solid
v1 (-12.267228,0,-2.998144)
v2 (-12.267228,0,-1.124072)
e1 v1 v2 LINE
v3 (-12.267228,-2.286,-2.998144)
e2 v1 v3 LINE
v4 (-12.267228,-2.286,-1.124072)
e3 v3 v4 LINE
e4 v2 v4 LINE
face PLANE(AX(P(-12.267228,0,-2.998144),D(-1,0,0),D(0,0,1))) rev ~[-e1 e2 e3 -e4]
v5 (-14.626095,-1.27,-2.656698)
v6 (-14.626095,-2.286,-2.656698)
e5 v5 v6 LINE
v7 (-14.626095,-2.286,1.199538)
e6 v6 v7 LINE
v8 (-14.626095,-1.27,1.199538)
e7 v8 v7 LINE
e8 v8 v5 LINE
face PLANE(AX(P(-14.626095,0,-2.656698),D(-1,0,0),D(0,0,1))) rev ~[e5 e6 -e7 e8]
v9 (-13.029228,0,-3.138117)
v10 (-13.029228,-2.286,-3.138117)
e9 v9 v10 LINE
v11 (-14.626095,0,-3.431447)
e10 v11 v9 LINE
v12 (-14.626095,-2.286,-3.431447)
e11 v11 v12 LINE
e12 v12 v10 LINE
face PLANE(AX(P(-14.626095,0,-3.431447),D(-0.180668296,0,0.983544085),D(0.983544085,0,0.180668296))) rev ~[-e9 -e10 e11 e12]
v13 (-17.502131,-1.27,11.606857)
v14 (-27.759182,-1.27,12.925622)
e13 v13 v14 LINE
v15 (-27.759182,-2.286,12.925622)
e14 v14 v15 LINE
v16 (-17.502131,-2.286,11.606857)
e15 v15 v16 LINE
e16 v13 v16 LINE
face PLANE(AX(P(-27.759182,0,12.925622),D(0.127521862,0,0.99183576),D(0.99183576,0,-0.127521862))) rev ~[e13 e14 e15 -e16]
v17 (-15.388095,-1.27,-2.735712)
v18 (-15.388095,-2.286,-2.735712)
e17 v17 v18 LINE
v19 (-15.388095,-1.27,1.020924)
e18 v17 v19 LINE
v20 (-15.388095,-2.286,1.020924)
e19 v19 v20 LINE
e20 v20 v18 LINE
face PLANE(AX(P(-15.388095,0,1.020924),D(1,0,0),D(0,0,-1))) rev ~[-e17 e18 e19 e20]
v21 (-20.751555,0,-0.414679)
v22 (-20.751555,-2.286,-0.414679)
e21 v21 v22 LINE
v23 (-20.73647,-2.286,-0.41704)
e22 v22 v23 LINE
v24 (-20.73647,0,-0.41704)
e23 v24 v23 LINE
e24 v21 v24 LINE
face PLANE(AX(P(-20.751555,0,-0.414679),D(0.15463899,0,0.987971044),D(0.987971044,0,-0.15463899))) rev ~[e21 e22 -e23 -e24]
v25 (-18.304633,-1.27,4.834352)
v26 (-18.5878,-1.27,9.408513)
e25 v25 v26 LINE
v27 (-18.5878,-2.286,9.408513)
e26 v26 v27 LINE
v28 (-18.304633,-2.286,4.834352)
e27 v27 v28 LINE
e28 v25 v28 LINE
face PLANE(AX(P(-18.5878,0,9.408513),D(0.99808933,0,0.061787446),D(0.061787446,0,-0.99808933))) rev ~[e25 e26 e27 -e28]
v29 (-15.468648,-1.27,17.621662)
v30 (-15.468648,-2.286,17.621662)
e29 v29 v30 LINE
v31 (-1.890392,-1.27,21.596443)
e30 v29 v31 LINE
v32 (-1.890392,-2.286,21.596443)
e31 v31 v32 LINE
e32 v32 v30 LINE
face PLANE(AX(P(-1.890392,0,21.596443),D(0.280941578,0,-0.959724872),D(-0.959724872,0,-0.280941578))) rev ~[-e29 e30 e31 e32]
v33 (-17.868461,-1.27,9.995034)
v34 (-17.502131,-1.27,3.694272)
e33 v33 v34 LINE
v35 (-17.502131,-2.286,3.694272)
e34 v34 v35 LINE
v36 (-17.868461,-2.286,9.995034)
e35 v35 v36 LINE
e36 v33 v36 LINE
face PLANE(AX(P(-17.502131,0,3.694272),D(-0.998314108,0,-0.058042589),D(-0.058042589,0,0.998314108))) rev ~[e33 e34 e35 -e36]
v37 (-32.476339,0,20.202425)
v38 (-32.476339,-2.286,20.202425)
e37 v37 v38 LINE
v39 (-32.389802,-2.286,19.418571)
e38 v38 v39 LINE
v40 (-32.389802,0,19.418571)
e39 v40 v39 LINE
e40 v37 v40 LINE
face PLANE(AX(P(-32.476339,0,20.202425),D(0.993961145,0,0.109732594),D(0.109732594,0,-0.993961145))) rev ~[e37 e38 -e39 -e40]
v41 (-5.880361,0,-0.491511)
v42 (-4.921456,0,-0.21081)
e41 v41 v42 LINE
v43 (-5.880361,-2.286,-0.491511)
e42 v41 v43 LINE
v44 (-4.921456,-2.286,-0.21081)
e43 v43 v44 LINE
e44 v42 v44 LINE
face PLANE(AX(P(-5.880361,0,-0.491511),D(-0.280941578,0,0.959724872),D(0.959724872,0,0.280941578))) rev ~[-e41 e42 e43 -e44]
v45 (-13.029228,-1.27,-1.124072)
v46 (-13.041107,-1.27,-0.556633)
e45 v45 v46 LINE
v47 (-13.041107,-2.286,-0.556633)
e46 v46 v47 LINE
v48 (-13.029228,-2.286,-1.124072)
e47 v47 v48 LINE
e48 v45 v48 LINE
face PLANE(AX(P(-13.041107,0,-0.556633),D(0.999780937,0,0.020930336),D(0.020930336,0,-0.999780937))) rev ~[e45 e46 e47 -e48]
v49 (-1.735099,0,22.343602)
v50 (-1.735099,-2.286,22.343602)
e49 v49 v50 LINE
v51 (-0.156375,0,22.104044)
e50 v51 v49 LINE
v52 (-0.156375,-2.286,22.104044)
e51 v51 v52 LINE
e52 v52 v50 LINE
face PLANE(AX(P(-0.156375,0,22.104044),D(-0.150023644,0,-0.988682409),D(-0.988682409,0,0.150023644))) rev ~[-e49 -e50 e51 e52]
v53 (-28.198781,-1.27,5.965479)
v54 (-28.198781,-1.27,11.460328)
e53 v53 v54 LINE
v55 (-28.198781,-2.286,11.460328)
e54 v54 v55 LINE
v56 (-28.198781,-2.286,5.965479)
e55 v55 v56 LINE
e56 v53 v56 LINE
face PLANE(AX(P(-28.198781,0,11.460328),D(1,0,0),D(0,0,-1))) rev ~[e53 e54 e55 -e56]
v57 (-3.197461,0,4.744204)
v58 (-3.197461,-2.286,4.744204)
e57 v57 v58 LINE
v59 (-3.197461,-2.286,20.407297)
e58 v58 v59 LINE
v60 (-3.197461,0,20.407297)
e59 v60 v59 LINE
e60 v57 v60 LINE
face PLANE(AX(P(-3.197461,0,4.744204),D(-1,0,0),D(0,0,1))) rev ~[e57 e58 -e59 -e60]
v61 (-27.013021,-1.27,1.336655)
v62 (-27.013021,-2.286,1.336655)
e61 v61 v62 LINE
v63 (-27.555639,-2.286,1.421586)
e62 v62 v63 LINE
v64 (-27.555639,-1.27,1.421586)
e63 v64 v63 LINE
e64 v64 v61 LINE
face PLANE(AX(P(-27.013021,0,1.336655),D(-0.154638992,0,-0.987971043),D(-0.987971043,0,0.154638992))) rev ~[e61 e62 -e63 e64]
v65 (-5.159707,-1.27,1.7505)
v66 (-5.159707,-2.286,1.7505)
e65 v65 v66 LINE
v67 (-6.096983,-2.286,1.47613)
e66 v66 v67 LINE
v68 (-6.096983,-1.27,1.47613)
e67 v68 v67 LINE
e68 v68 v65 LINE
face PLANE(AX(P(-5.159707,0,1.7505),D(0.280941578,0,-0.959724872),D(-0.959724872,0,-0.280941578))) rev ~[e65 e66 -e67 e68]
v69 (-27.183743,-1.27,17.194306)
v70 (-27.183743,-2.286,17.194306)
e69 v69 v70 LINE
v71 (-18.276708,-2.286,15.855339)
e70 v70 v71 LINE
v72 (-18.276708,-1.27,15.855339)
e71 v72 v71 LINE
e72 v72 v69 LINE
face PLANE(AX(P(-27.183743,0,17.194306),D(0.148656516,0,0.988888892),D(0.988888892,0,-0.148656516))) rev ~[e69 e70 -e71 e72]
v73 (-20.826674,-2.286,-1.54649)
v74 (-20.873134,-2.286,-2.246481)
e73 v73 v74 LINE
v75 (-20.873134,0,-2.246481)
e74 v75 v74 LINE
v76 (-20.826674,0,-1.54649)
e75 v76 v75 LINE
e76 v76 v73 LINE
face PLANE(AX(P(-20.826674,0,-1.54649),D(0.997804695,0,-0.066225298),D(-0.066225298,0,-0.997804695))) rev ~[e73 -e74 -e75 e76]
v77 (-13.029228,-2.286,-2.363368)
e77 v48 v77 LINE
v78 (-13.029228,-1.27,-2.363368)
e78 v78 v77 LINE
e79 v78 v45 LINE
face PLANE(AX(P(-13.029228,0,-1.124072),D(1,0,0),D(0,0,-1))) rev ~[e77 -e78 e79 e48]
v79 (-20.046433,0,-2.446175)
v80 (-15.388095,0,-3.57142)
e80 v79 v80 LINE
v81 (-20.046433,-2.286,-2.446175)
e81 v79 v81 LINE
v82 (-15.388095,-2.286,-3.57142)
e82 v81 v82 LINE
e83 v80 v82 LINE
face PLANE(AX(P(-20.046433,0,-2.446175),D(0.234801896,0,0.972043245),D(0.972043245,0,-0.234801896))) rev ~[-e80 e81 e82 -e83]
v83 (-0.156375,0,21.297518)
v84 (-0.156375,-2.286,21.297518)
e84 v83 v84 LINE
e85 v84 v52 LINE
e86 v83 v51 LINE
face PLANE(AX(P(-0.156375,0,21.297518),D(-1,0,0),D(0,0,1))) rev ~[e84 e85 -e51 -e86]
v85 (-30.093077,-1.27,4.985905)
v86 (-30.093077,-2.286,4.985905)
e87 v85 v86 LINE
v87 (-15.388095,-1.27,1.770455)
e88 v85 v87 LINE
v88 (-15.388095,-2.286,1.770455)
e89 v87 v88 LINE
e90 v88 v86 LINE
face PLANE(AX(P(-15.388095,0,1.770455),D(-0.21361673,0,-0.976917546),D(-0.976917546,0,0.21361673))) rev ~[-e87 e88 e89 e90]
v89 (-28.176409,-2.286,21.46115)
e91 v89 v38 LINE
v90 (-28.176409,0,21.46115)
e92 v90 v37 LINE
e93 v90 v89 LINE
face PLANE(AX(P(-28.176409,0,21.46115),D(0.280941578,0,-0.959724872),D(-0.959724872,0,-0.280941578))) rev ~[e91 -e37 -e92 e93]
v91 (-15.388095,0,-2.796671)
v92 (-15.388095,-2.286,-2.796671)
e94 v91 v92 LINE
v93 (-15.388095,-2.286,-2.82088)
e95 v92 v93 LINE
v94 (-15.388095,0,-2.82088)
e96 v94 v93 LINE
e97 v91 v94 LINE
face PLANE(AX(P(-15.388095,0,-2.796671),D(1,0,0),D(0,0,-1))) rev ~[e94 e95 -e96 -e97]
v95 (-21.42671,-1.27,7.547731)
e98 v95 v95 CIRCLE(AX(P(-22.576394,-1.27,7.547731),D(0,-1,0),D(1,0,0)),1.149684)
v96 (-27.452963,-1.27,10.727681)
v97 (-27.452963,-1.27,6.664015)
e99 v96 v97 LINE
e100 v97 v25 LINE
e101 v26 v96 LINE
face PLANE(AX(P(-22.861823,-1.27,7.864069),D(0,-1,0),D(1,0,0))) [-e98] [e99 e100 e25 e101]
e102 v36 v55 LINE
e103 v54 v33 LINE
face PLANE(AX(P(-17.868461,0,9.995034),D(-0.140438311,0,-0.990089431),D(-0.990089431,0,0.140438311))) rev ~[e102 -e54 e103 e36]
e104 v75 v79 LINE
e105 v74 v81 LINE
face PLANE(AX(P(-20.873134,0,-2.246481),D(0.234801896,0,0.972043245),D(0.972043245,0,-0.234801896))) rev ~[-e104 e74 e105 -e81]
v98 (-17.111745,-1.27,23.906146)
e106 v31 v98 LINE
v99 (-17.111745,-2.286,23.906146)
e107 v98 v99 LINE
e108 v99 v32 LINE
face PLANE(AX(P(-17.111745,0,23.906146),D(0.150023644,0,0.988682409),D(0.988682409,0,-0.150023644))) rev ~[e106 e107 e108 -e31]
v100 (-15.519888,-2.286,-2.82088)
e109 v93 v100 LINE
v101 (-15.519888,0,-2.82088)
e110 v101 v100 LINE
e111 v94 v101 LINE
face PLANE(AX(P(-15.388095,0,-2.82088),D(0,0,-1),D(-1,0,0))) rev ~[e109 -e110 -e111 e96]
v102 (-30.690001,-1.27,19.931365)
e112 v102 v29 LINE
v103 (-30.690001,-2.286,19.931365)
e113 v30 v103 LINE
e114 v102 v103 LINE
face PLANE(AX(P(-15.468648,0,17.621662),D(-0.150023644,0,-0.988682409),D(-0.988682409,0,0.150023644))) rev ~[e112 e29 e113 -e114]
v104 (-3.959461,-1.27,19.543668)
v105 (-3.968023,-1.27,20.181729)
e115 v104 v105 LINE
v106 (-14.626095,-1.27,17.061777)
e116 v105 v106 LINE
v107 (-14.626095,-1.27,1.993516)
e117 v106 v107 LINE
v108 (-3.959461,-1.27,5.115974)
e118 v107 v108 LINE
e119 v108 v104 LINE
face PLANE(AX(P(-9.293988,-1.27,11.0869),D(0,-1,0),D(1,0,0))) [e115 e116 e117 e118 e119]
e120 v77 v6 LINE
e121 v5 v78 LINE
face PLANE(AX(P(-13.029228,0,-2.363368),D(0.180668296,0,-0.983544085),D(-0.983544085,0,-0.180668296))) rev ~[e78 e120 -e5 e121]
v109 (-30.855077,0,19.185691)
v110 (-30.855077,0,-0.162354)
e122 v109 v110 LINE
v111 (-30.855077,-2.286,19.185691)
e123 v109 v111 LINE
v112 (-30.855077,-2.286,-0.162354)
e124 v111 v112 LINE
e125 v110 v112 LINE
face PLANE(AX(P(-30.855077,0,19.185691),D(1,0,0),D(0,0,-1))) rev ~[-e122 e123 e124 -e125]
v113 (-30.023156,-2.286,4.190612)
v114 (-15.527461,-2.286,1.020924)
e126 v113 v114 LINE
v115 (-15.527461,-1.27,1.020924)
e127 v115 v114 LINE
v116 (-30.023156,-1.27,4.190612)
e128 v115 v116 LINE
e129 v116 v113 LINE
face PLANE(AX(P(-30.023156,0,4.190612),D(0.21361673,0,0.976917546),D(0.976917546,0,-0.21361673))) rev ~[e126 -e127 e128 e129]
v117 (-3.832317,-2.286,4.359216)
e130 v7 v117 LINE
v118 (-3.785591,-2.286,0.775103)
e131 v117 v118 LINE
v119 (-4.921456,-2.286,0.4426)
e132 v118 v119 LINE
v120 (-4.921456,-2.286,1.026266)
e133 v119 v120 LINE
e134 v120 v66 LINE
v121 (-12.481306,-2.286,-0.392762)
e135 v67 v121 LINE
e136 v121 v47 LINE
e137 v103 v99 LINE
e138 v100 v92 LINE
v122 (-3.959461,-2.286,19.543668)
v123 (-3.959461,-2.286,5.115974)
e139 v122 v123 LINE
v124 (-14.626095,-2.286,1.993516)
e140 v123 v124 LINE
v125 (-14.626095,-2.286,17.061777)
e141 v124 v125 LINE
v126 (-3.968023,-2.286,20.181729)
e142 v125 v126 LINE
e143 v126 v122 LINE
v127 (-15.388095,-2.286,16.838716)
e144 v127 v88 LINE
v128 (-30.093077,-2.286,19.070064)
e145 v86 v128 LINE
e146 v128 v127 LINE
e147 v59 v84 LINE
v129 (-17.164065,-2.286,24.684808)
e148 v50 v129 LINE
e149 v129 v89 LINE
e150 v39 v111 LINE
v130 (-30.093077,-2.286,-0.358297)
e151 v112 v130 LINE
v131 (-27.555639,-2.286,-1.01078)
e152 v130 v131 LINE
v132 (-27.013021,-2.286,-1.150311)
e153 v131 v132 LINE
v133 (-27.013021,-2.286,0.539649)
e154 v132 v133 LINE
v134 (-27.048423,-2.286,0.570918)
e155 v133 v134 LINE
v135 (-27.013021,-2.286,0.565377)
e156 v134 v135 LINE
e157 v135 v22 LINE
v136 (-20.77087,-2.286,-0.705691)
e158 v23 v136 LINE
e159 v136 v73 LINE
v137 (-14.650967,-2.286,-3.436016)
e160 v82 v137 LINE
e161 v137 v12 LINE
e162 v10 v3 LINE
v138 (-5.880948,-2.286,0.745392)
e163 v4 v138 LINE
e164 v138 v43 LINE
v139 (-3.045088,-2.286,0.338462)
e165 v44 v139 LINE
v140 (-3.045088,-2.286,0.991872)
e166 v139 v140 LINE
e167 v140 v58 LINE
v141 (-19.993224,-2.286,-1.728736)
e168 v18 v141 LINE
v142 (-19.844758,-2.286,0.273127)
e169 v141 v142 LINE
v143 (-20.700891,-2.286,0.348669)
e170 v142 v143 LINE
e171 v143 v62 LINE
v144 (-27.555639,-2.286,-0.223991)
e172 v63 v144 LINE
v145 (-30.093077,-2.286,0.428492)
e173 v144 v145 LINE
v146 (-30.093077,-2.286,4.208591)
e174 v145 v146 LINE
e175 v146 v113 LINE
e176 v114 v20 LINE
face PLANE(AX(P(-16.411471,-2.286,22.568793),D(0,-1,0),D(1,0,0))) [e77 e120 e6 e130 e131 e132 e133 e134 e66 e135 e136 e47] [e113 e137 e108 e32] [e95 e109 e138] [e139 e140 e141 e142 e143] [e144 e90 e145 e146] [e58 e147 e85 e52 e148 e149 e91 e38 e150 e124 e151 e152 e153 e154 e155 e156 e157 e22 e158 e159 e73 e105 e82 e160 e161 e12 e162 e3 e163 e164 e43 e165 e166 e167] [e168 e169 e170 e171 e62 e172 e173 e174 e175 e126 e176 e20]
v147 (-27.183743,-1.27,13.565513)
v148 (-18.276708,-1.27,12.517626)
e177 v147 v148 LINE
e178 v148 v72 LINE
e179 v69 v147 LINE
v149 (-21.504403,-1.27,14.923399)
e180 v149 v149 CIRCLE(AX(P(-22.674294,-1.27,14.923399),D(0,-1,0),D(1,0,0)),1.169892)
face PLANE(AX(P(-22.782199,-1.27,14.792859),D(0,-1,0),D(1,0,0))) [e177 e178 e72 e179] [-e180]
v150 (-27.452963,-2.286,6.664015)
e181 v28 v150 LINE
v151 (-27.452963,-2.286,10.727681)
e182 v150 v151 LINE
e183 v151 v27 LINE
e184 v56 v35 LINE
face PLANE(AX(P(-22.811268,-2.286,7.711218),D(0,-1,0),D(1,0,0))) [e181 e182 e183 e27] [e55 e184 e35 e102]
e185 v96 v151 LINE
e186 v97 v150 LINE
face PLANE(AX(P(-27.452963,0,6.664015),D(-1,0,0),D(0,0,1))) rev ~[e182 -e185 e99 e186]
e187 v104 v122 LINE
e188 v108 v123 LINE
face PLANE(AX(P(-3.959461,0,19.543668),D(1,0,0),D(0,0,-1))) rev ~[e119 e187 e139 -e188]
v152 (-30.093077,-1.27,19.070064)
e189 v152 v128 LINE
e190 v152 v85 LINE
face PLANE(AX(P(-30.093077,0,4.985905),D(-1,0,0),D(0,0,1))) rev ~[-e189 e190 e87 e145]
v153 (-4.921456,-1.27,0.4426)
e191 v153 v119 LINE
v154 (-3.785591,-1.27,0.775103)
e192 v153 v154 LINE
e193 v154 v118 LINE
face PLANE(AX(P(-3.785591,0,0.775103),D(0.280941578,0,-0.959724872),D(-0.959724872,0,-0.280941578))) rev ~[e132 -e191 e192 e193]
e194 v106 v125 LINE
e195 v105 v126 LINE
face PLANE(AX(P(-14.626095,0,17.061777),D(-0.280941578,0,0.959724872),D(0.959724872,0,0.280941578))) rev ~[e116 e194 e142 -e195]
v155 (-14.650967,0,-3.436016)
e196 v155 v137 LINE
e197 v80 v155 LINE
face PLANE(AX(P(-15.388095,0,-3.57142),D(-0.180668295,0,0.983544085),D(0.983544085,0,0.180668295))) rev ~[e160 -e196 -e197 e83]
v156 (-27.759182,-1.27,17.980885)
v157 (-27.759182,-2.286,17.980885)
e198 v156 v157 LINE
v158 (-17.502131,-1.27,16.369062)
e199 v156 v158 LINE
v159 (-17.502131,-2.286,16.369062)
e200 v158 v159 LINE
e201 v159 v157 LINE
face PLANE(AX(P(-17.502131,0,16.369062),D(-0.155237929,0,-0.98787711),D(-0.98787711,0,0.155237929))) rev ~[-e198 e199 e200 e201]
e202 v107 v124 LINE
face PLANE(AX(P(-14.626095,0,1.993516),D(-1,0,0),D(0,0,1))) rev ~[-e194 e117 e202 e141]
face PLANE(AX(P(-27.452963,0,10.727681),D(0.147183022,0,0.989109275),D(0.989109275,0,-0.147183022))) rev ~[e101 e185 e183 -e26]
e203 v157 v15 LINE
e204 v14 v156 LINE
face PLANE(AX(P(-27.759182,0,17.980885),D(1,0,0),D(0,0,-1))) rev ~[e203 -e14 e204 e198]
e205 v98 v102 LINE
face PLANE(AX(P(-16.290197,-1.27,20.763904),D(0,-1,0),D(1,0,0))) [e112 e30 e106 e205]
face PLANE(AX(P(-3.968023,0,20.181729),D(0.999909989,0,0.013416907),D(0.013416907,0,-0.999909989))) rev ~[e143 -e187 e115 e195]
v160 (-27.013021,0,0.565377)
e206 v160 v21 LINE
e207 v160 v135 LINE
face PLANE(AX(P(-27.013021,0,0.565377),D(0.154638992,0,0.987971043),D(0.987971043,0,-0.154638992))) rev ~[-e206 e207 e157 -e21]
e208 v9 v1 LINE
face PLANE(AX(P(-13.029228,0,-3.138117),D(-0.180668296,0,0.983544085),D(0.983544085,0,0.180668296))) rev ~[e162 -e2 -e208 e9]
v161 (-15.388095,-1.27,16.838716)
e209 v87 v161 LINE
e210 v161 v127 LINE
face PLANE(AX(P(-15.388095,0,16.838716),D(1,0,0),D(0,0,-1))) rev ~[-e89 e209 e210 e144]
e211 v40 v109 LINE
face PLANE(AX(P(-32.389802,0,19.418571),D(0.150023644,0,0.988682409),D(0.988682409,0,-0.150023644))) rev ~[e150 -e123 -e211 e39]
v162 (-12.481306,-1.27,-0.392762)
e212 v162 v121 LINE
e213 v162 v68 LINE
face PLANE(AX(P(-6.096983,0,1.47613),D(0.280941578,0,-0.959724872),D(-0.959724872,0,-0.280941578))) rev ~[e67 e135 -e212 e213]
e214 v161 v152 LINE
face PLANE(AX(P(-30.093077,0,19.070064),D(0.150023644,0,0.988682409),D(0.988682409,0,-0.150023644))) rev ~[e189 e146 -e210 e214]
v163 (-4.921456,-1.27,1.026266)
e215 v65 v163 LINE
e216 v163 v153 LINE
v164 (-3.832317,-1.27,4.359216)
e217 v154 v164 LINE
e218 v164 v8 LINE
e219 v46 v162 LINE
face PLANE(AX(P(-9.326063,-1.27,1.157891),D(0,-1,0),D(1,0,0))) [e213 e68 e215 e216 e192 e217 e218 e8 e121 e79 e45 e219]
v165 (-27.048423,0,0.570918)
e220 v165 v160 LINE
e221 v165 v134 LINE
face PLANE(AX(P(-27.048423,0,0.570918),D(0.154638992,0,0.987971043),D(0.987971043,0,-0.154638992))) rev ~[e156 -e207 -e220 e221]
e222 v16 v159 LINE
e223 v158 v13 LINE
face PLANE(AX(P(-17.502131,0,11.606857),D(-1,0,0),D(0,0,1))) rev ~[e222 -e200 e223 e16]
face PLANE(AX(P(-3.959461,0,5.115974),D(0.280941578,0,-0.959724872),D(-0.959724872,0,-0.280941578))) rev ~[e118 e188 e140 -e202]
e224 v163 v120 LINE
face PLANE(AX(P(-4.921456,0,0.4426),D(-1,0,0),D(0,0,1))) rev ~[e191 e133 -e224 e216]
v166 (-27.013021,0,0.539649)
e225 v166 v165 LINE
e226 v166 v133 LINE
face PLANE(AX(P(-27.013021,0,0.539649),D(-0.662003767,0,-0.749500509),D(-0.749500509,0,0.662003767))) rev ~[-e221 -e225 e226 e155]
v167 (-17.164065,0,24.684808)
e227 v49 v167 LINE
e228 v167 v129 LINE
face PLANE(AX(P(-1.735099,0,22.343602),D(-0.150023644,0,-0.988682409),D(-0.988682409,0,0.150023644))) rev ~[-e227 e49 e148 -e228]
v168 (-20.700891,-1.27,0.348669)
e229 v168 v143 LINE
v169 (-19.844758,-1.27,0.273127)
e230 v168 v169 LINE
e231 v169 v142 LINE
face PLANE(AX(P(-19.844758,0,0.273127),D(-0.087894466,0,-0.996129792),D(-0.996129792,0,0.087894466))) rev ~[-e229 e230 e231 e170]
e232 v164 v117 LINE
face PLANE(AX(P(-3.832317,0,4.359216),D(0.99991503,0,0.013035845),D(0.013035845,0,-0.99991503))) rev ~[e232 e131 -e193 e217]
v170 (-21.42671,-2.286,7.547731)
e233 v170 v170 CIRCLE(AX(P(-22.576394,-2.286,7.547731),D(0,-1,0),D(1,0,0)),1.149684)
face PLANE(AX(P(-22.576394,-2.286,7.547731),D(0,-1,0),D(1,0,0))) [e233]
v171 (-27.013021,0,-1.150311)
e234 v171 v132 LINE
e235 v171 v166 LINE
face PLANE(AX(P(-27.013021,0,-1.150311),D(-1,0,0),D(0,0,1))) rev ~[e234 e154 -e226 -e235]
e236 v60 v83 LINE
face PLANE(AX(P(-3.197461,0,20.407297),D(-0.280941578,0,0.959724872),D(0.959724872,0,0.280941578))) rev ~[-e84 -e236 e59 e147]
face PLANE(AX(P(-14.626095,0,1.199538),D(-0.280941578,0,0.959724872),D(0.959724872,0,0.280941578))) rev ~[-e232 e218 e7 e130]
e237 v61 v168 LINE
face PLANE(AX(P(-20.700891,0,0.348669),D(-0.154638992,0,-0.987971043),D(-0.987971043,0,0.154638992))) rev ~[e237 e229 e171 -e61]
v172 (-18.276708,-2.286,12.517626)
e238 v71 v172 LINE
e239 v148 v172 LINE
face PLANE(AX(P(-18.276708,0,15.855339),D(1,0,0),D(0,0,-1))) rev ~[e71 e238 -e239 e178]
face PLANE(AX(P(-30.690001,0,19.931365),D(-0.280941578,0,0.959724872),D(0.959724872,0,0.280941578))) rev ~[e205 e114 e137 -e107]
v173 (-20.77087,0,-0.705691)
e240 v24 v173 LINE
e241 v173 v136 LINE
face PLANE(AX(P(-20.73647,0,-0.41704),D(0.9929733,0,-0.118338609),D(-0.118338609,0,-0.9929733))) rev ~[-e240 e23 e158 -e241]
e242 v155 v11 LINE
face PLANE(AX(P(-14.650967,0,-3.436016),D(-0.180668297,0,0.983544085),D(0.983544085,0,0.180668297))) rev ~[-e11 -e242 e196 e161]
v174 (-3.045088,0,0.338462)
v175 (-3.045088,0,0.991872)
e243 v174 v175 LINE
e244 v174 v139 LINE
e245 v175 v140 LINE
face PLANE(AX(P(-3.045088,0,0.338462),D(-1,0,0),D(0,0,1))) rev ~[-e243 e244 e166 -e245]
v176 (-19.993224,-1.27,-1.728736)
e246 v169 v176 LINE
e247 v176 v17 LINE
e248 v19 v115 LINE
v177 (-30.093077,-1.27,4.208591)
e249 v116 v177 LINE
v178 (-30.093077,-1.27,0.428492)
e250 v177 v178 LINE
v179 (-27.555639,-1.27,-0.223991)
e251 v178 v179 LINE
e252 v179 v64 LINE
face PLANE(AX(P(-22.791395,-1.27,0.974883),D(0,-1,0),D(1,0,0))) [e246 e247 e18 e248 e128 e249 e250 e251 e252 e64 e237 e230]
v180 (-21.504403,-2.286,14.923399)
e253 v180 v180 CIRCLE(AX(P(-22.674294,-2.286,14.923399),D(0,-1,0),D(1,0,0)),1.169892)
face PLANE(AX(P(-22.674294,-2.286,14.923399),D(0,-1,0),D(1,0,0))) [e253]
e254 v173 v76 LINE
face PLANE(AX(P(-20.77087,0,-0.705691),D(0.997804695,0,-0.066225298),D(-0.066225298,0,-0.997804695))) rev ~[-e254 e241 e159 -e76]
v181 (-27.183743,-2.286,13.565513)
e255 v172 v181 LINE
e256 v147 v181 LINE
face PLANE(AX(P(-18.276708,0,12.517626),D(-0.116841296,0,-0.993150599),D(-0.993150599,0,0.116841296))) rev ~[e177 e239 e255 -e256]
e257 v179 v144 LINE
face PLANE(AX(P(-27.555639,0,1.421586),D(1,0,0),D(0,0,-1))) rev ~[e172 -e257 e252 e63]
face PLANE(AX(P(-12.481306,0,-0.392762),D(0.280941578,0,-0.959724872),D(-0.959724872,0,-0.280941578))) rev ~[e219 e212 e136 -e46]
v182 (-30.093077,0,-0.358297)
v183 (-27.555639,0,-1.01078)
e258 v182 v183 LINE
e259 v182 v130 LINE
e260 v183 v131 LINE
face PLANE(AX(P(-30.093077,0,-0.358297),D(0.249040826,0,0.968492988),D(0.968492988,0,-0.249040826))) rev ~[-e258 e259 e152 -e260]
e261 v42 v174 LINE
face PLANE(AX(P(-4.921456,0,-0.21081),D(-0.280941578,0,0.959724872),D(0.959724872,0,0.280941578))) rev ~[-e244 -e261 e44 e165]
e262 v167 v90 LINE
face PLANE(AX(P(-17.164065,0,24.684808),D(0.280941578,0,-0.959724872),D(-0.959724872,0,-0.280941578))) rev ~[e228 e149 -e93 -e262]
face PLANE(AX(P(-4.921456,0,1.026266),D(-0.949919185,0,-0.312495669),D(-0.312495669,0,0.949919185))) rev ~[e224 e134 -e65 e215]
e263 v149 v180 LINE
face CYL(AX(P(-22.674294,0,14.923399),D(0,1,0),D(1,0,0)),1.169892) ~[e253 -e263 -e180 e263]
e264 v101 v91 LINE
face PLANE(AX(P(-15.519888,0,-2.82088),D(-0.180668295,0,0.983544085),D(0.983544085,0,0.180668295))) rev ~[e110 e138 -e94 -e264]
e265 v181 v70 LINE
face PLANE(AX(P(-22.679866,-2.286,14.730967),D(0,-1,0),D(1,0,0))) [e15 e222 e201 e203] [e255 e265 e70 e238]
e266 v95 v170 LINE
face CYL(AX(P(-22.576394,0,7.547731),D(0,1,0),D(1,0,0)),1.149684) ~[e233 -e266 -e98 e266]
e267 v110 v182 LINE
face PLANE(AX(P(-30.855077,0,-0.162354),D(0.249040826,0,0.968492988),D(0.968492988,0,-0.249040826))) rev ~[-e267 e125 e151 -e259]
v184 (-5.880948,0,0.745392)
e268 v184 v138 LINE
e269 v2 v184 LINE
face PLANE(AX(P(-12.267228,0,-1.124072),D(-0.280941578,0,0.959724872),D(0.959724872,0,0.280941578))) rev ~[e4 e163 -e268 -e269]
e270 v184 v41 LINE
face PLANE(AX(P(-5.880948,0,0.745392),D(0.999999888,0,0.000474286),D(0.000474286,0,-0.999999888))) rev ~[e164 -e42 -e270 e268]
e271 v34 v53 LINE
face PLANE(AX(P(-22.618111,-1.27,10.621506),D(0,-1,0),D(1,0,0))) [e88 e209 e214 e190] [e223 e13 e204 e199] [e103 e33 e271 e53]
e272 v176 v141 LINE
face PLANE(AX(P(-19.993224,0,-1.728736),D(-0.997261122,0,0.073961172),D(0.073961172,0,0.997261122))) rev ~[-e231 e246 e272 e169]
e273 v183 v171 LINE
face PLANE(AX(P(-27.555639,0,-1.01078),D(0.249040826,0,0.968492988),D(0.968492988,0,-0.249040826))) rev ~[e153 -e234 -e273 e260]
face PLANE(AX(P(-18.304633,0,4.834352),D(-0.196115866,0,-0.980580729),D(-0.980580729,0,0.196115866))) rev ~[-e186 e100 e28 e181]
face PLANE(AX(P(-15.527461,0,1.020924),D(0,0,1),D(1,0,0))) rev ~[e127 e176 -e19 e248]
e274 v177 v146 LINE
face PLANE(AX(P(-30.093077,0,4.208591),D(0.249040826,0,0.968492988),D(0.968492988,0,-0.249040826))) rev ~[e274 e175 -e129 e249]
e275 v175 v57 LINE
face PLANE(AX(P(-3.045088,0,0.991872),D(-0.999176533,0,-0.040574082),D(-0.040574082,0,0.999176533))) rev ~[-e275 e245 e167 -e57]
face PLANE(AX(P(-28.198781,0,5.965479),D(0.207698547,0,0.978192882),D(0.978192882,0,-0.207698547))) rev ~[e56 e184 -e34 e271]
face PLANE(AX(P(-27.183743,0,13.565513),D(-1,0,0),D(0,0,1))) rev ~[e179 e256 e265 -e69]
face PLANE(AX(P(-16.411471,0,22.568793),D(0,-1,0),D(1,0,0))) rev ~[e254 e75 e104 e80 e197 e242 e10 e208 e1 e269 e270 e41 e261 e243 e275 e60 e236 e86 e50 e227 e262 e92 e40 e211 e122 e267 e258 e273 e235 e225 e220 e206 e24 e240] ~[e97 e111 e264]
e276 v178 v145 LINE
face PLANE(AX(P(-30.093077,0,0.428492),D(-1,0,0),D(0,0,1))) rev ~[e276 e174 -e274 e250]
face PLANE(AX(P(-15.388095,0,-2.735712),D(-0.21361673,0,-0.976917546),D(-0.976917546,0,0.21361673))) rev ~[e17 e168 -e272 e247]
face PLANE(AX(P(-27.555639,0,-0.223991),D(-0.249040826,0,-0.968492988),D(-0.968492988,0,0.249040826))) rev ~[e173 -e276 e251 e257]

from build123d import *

# Parameters (mm, degrees)
F1_DEPTH = 1.27
F0_R     = 1.1698918357
F0_R_2   = 1.149683984
F2_DEPTH = 2.286


with BuildPart() as f1:
    # F0 (on Front) → F1 (new body)
    with BuildSketch(Plane.XZ):
        Polygon((-15.388094912, 1.7704545665), (-15.388094912, 16.057066756), (-15.388094912, 16.8387157017), (-30.0930766836, 19.0700641461), (-30.0930766836, 18.4871374451), (-30.0930766836, 4.9859051822), align=None)
        Polygon((-28.1987807881, 11.4603284719), (-17.8684613835, 9.9950339617), (-17.5021312367, 3.694271666), (-28.1987807881, 5.9654787155), align=None, mode=Mode.SUBTRACT)
        Polygon((-27.7591816317, 12.9256220507), (-27.7591816317, 17.9808847578), (-17.5021312367, 16.3690615418), (-17.5021312367, 11.6068571778), align=None, mode=Mode.SUBTRACT)
    extrude(amount=F1_DEPTH)



with BuildPart() as f1b:
    # F0 (on Front) → F1, piece 2 (new body)
    with BuildSketch(Plane.XZ):
        Polygon((-18.2767084967, 15.855339353), (-27.1837434899, 17.1943055438), (-27.1837434899, 13.5655133026), (-18.2767084967, 12.5176263945), align=None)
        with Locations((-22.6742944847, 14.9233993115)):
            Circle(F0_R, mode=Mode.SUBTRACT)
    extrude(amount=F1_DEPTH)


with BuildPart() as f1c:
    # F0 (on Front) → F1, piece 3 (new body)
    with BuildSketch(Plane.XZ):
        Polygon((-30.6900013238, 19.9313648045), (-15.4686479767, 17.6216616277), (-1.8903917537, 21.5964431966), (-17.1117451009, 23.9061463734), align=None)
    extrude(amount=F1_DEPTH)


with BuildPart() as f1d:
    # F0 (on Front) → F1, piece 4 (new body)
    with BuildSketch(Plane.XZ):
        Polygon((-14.626094912, 16.057066756), (-14.626094912, 1.9935158717), (-3.9594611633, 5.1159742), (-3.9594611633, 19.5436675764), (-3.9680227461, 20.1817290912), (-14.626094912, 17.0617770069), align=None)
    extrude(amount=F1_DEPTH)


with BuildPart() as f1e:
    # F0 (on Front) → F1, piece 5 (new body)
    with BuildSketch(Plane.XZ):
        Polygon((-3.8323173759, 4.3592156278), (-14.626094912, 1.1995383243), (-14.626094912, -2.6566980141), (-13.0292281976, -2.3633678097), (-13.0292281976, -1.1240722508), (-13.0411074846, -0.5566334484), (-12.4813056802, -0.3927618984), (-6.0969826496, 1.4761297395), (-5.1597074379, 1.7504995978), (-4.9214556754, 1.0262658156), (-4.9214556754, 0.4425999067), (-3.7855914693, 0.7751029937), align=None)
    extrude(amount=F1_DEPTH)


with BuildPart() as f1f:
    # F0 (on Front) → F1, piece 6 (new body)
    with BuildSketch(Plane.XZ):
        Polygon((-15.388094912, -2.7357117464), (-15.388094912, 1.0209244658), (-15.527460836, 1.0209244658), (-30.0231560015, 4.1906116282), (-30.0930766836, 4.2085912157), (-30.0930766836, 0.4284923682), (-27.5556394443, -0.2239908959), (-27.5556394443, 1.4215863233), (-27.0130208861, 1.3366546978), (-20.7008908468, 0.3486688349), (-19.8447576891, 0.273127106), (-19.9932244299, -1.7287355547), align=None)
    extrude(amount=F1_DEPTH)


with BuildPart() as f1g:
    # F0 (on Front) → F1, piece 7 (new body)
    with BuildSketch(Plane.XZ):
        Polygon((-18.5878000389, 9.4085130813), (-27.4529627692, 10.7276812168), (-27.4529627692, 6.66401535), (-18.3046332728, 4.8343520584), align=None)
        with Locations((-22.5763938557, 7.5477305772)):
            Circle(F0_R_2, mode=Mode.SUBTRACT)
    extrude(amount=F1_DEPTH)


with BuildPart() as f1_1:
    add(f1.part)

    add(f1b.part)  # F2 merges F1b

    add(f1c.part)  # F2 merges F1c

    add(f1d.part)  # F2 merges F1d

    add(f1e.part)  # F2 merges F1e

    add(f1f.part)  # F2 merges F1f

    add(f1g.part)  # F2 merges F1g
    # F0 (on Front) → F2 (join)
    with BuildSketch(Plane.XZ):
        Polygon((-17.5021312367, 3.694271666), (-17.8684613835, 9.9950339617), (-28.1987807881, 11.4603284719), (-28.1987807881, 5.9654787155), align=None)
        Polygon((-27.4529627692, 6.66401535), (-27.4529627692, 10.7276812168), (-18.5878000389, 9.4085130813), (-18.3046332728, 4.8343520584), align=None, mode=Mode.SUBTRACT)
        Polygon((-17.5021312367, 16.3690615418), (-27.7591816317, 17.9808847578), (-27.7591816317, 12.9256220507), (-17.5021312367, 11.6068571778), align=None)
        Polygon((-27.1837434899, 13.5655133026), (-27.1837434899, 17.1943055438), (-18.2767084967, 15.855339353), (-18.2767084967, 12.5176263945), align=None, mode=Mode.SUBTRACT)
        Polygon((-32.4763386121, 20.2024253873), (-30.6900013238, 19.9313648045), (-17.1117451009, 23.9061463734), (-1.8903917537, 21.5964431966), (-0.1563745312, 22.1040444366), (-1.7350990934, 22.3436016595), (-17.1640651666, 24.6848081963), (-28.1764094956, 21.4611495356), align=None)
        Polygon((-3.9594611633, 5.1159742), (-14.626094912, 1.9935158717), (-14.626094912, 1.7704545955), (-14.626094912, 1.1995383243), (-3.8323173759, 4.3592156278), (-3.7855914693, 0.7751029937), (-3.0450882633, 0.9918715129), (-3.1974611633, 4.7442035481), (-3.1974611633, 19.5436675764), (-3.1974611633, 20.4072966403), (-3.9680227461, 20.1817290912), (-3.9594611633, 19.5436675764), align=None)
        Polygon((-30.0930766836, 4.2085912157), (-30.0930766836, 4.9859051822), (-30.0930766836, 18.4871374451), (-30.0930766836, 19.0700641461), (-30.8550766836, 19.185690778), (-30.8550766836, 18.4871374451), (-30.8550766836, 4.9331725397), (-30.8550766836, 0.6244350459), (-30.8505439091, 0.6232694764), (-30.8485884176, 0.6227666362), (-30.0930766836, 0.4284923682), align=None)
        Polygon((-30.0930766836, 19.0700641461), (-15.388094912, 16.8387157017), (-15.4686479767, 17.6216616277), (-30.6900013238, 19.9313648045), (-32.4763386121, 20.2024253873), (-32.3898017041, 19.4185714671), (-30.8550766836, 19.185690778), align=None)
        Polygon((-15.4686479767, 17.6216616277), (-15.388094912, 16.8387157017), (-14.626094912, 17.0617770069), (-3.9680227461, 20.1817290912), (-3.1974611633, 20.4072966403), (-0.1563745312, 21.2975181015), (-0.1563745312, 22.1040444366), (-1.8903917537, 21.5964431966), align=None)
        Polygon((-15.388094912, 16.8387157017), (-15.388094912, 16.057066756), (-15.388094912, 1.7704545665), (-14.626094912, 1.9935158717), (-14.626094912, 16.057066756), (-14.626094912, 17.0617770069), align=None)
        Polygon((-15.388094912, 1.0209244658), (-15.388094912, 1.7704545665), (-30.0930766836, 4.9859051822), (-30.0930766836, 4.2085912157), (-30.0231560015, 4.1906116282), (-15.527460836, 1.0209244658), align=None)
        Polygon((-13.0292281976, -1.1240722508), (-13.0292281976, -2.3633678097), (-12.4034496222, -2.2484178544), (-12.2672281976, -2.223395191), (-12.2672281976, -1.1240722507), (-5.880947848, 0.7453923558), (-4.9214556754, 1.0262658156), (-5.1597074379, 1.7504995978), (-6.0969826496, 1.4761297395), (-12.4813056802, -0.3927618984), (-13.0411074846, -0.5566334484), align=None)
        Polygon((-20.7515549942, -0.414678788), (-20.7008908468, 0.3486688349), (-27.0130208861, 1.3366546978), (-27.0130208861, 0.5653770321), align=None)
        with Locations((-22.6742944847, 14.9233993115)):
            Circle(F0_R)
        with Locations((-22.5763938557, 7.5477305772)):
            Circle(F0_R_2)
        Polygon((-15.388094912, -2.7966706329), (-15.388094912, -2.7357117464), (-19.9932244299, -1.7287355547), (-20.0464328287, -2.4461750717), (-15.388094912, -3.57141984), (-15.388094912, -2.8208797925), (-15.5198876856, -2.8208797925), align=None)
        Polygon((-15.1740174294, 1.0391442142), (-15.388094912, 1.0209244658), (-15.388094912, -2.7357117464), (-15.388094912, -2.7966706329), (-14.626094912, -2.6566980141), (-14.626094912, 1.1995383243), align=None)
        Polygon((-27.5556394443, -0.2239908959), (-30.0930766836, 0.4284923682), (-30.0930766836, -0.1490246532), (-30.0930766836, -0.3582970146), (-27.5556394443, -1.0107802787), align=None)
        Polygon((-20.8266744405, -1.5464900143), (-19.9932244299, -1.7287355547), (-19.8447576891, 0.273127106), (-20.7008908468, 0.3486688349), (-20.7515549942, -0.414678788), (-20.7364695061, -0.4170399955), (-20.7708697434, -0.7056906514), align=None)
        Polygon((-13.0292281976, -2.3633678097), (-14.626094912, -2.6566980141), (-14.626094912, -3.4314472213), (-13.0292281976, -3.1381170169), (-13.0292281976, -2.9902135849), align=None)
        Polygon((-3.0450882633, 0.9918715129), (-3.7855914693, 0.7751029937), (-4.9214556754, 0.4425999067), (-4.9214556754, -0.2108097675), (-3.0450882633, 0.3384618388), align=None)
        Polygon((-4.9214556754, -0.2108097675), (-4.9214556754, 0.4425999067), (-4.9214556754, 1.0262658156), (-5.880947848, 0.7453923558), (-5.8803612014, -0.4915114974), align=None)
        Polygon((-27.5556394443, 1.4215863233), (-27.5556394443, -0.2239908959), (-27.0130208861, -0.3635212545), (-27.0130208861, 0.5396492752), (-27.0484225739, 0.5709181675), (-27.0130208861, 0.5653770321), (-27.0130208861, 1.3366546978), align=None)
        Polygon((-14.626094912, 1.9935158717), (-15.388094912, 1.7704545665), (-15.388094912, 1.0209244658), (-15.1740174294, 1.0391442142), (-14.626094912, 1.1995383243), (-14.626094912, 1.7704545955), align=None)
        Polygon((-30.0930766836, -0.1490246532), (-30.0930766836, 0.4284923682), (-30.8485884176, 0.6227666362), (-30.8505439091, 0.6232694764), (-30.8550766836, 0.6244350459), (-30.8550766836, -0.1623543369), (-30.0930766836, -0.3582970146), align=None)
        Polygon((-20.0464328287, -2.4461750717), (-19.9932244299, -1.7287355547), (-20.8266744405, -1.5464900143), (-20.8731335697, -2.2464813826), align=None)
        Polygon((-14.626094912, -2.6566980141), (-15.388094912, -2.7966706329), (-15.388094912, -2.8208797925), (-15.388094912, -3.57141984), (-14.6509673791, -3.4360160722), (-14.626094912, -3.4314472213), align=None)
        Polygon((-12.4034496222, -2.2484178544), (-13.0292281976, -2.3633678097), (-13.0292281976, -2.9902135849), (-13.0292281976, -3.1381170169), (-12.2672281976, -2.9981443981), (-12.2672281976, -2.223395191), align=None)
        Polygon((-27.0130208861, -0.3635212545), (-27.5556394443, -0.2239908959), (-27.5556394443, -1.0107802787), (-27.0130208861, -1.1503106373), (-27.0130208861, -0.3672745107), align=None)
    extrude(amount=F2_DEPTH)


solid = f1_1.part
